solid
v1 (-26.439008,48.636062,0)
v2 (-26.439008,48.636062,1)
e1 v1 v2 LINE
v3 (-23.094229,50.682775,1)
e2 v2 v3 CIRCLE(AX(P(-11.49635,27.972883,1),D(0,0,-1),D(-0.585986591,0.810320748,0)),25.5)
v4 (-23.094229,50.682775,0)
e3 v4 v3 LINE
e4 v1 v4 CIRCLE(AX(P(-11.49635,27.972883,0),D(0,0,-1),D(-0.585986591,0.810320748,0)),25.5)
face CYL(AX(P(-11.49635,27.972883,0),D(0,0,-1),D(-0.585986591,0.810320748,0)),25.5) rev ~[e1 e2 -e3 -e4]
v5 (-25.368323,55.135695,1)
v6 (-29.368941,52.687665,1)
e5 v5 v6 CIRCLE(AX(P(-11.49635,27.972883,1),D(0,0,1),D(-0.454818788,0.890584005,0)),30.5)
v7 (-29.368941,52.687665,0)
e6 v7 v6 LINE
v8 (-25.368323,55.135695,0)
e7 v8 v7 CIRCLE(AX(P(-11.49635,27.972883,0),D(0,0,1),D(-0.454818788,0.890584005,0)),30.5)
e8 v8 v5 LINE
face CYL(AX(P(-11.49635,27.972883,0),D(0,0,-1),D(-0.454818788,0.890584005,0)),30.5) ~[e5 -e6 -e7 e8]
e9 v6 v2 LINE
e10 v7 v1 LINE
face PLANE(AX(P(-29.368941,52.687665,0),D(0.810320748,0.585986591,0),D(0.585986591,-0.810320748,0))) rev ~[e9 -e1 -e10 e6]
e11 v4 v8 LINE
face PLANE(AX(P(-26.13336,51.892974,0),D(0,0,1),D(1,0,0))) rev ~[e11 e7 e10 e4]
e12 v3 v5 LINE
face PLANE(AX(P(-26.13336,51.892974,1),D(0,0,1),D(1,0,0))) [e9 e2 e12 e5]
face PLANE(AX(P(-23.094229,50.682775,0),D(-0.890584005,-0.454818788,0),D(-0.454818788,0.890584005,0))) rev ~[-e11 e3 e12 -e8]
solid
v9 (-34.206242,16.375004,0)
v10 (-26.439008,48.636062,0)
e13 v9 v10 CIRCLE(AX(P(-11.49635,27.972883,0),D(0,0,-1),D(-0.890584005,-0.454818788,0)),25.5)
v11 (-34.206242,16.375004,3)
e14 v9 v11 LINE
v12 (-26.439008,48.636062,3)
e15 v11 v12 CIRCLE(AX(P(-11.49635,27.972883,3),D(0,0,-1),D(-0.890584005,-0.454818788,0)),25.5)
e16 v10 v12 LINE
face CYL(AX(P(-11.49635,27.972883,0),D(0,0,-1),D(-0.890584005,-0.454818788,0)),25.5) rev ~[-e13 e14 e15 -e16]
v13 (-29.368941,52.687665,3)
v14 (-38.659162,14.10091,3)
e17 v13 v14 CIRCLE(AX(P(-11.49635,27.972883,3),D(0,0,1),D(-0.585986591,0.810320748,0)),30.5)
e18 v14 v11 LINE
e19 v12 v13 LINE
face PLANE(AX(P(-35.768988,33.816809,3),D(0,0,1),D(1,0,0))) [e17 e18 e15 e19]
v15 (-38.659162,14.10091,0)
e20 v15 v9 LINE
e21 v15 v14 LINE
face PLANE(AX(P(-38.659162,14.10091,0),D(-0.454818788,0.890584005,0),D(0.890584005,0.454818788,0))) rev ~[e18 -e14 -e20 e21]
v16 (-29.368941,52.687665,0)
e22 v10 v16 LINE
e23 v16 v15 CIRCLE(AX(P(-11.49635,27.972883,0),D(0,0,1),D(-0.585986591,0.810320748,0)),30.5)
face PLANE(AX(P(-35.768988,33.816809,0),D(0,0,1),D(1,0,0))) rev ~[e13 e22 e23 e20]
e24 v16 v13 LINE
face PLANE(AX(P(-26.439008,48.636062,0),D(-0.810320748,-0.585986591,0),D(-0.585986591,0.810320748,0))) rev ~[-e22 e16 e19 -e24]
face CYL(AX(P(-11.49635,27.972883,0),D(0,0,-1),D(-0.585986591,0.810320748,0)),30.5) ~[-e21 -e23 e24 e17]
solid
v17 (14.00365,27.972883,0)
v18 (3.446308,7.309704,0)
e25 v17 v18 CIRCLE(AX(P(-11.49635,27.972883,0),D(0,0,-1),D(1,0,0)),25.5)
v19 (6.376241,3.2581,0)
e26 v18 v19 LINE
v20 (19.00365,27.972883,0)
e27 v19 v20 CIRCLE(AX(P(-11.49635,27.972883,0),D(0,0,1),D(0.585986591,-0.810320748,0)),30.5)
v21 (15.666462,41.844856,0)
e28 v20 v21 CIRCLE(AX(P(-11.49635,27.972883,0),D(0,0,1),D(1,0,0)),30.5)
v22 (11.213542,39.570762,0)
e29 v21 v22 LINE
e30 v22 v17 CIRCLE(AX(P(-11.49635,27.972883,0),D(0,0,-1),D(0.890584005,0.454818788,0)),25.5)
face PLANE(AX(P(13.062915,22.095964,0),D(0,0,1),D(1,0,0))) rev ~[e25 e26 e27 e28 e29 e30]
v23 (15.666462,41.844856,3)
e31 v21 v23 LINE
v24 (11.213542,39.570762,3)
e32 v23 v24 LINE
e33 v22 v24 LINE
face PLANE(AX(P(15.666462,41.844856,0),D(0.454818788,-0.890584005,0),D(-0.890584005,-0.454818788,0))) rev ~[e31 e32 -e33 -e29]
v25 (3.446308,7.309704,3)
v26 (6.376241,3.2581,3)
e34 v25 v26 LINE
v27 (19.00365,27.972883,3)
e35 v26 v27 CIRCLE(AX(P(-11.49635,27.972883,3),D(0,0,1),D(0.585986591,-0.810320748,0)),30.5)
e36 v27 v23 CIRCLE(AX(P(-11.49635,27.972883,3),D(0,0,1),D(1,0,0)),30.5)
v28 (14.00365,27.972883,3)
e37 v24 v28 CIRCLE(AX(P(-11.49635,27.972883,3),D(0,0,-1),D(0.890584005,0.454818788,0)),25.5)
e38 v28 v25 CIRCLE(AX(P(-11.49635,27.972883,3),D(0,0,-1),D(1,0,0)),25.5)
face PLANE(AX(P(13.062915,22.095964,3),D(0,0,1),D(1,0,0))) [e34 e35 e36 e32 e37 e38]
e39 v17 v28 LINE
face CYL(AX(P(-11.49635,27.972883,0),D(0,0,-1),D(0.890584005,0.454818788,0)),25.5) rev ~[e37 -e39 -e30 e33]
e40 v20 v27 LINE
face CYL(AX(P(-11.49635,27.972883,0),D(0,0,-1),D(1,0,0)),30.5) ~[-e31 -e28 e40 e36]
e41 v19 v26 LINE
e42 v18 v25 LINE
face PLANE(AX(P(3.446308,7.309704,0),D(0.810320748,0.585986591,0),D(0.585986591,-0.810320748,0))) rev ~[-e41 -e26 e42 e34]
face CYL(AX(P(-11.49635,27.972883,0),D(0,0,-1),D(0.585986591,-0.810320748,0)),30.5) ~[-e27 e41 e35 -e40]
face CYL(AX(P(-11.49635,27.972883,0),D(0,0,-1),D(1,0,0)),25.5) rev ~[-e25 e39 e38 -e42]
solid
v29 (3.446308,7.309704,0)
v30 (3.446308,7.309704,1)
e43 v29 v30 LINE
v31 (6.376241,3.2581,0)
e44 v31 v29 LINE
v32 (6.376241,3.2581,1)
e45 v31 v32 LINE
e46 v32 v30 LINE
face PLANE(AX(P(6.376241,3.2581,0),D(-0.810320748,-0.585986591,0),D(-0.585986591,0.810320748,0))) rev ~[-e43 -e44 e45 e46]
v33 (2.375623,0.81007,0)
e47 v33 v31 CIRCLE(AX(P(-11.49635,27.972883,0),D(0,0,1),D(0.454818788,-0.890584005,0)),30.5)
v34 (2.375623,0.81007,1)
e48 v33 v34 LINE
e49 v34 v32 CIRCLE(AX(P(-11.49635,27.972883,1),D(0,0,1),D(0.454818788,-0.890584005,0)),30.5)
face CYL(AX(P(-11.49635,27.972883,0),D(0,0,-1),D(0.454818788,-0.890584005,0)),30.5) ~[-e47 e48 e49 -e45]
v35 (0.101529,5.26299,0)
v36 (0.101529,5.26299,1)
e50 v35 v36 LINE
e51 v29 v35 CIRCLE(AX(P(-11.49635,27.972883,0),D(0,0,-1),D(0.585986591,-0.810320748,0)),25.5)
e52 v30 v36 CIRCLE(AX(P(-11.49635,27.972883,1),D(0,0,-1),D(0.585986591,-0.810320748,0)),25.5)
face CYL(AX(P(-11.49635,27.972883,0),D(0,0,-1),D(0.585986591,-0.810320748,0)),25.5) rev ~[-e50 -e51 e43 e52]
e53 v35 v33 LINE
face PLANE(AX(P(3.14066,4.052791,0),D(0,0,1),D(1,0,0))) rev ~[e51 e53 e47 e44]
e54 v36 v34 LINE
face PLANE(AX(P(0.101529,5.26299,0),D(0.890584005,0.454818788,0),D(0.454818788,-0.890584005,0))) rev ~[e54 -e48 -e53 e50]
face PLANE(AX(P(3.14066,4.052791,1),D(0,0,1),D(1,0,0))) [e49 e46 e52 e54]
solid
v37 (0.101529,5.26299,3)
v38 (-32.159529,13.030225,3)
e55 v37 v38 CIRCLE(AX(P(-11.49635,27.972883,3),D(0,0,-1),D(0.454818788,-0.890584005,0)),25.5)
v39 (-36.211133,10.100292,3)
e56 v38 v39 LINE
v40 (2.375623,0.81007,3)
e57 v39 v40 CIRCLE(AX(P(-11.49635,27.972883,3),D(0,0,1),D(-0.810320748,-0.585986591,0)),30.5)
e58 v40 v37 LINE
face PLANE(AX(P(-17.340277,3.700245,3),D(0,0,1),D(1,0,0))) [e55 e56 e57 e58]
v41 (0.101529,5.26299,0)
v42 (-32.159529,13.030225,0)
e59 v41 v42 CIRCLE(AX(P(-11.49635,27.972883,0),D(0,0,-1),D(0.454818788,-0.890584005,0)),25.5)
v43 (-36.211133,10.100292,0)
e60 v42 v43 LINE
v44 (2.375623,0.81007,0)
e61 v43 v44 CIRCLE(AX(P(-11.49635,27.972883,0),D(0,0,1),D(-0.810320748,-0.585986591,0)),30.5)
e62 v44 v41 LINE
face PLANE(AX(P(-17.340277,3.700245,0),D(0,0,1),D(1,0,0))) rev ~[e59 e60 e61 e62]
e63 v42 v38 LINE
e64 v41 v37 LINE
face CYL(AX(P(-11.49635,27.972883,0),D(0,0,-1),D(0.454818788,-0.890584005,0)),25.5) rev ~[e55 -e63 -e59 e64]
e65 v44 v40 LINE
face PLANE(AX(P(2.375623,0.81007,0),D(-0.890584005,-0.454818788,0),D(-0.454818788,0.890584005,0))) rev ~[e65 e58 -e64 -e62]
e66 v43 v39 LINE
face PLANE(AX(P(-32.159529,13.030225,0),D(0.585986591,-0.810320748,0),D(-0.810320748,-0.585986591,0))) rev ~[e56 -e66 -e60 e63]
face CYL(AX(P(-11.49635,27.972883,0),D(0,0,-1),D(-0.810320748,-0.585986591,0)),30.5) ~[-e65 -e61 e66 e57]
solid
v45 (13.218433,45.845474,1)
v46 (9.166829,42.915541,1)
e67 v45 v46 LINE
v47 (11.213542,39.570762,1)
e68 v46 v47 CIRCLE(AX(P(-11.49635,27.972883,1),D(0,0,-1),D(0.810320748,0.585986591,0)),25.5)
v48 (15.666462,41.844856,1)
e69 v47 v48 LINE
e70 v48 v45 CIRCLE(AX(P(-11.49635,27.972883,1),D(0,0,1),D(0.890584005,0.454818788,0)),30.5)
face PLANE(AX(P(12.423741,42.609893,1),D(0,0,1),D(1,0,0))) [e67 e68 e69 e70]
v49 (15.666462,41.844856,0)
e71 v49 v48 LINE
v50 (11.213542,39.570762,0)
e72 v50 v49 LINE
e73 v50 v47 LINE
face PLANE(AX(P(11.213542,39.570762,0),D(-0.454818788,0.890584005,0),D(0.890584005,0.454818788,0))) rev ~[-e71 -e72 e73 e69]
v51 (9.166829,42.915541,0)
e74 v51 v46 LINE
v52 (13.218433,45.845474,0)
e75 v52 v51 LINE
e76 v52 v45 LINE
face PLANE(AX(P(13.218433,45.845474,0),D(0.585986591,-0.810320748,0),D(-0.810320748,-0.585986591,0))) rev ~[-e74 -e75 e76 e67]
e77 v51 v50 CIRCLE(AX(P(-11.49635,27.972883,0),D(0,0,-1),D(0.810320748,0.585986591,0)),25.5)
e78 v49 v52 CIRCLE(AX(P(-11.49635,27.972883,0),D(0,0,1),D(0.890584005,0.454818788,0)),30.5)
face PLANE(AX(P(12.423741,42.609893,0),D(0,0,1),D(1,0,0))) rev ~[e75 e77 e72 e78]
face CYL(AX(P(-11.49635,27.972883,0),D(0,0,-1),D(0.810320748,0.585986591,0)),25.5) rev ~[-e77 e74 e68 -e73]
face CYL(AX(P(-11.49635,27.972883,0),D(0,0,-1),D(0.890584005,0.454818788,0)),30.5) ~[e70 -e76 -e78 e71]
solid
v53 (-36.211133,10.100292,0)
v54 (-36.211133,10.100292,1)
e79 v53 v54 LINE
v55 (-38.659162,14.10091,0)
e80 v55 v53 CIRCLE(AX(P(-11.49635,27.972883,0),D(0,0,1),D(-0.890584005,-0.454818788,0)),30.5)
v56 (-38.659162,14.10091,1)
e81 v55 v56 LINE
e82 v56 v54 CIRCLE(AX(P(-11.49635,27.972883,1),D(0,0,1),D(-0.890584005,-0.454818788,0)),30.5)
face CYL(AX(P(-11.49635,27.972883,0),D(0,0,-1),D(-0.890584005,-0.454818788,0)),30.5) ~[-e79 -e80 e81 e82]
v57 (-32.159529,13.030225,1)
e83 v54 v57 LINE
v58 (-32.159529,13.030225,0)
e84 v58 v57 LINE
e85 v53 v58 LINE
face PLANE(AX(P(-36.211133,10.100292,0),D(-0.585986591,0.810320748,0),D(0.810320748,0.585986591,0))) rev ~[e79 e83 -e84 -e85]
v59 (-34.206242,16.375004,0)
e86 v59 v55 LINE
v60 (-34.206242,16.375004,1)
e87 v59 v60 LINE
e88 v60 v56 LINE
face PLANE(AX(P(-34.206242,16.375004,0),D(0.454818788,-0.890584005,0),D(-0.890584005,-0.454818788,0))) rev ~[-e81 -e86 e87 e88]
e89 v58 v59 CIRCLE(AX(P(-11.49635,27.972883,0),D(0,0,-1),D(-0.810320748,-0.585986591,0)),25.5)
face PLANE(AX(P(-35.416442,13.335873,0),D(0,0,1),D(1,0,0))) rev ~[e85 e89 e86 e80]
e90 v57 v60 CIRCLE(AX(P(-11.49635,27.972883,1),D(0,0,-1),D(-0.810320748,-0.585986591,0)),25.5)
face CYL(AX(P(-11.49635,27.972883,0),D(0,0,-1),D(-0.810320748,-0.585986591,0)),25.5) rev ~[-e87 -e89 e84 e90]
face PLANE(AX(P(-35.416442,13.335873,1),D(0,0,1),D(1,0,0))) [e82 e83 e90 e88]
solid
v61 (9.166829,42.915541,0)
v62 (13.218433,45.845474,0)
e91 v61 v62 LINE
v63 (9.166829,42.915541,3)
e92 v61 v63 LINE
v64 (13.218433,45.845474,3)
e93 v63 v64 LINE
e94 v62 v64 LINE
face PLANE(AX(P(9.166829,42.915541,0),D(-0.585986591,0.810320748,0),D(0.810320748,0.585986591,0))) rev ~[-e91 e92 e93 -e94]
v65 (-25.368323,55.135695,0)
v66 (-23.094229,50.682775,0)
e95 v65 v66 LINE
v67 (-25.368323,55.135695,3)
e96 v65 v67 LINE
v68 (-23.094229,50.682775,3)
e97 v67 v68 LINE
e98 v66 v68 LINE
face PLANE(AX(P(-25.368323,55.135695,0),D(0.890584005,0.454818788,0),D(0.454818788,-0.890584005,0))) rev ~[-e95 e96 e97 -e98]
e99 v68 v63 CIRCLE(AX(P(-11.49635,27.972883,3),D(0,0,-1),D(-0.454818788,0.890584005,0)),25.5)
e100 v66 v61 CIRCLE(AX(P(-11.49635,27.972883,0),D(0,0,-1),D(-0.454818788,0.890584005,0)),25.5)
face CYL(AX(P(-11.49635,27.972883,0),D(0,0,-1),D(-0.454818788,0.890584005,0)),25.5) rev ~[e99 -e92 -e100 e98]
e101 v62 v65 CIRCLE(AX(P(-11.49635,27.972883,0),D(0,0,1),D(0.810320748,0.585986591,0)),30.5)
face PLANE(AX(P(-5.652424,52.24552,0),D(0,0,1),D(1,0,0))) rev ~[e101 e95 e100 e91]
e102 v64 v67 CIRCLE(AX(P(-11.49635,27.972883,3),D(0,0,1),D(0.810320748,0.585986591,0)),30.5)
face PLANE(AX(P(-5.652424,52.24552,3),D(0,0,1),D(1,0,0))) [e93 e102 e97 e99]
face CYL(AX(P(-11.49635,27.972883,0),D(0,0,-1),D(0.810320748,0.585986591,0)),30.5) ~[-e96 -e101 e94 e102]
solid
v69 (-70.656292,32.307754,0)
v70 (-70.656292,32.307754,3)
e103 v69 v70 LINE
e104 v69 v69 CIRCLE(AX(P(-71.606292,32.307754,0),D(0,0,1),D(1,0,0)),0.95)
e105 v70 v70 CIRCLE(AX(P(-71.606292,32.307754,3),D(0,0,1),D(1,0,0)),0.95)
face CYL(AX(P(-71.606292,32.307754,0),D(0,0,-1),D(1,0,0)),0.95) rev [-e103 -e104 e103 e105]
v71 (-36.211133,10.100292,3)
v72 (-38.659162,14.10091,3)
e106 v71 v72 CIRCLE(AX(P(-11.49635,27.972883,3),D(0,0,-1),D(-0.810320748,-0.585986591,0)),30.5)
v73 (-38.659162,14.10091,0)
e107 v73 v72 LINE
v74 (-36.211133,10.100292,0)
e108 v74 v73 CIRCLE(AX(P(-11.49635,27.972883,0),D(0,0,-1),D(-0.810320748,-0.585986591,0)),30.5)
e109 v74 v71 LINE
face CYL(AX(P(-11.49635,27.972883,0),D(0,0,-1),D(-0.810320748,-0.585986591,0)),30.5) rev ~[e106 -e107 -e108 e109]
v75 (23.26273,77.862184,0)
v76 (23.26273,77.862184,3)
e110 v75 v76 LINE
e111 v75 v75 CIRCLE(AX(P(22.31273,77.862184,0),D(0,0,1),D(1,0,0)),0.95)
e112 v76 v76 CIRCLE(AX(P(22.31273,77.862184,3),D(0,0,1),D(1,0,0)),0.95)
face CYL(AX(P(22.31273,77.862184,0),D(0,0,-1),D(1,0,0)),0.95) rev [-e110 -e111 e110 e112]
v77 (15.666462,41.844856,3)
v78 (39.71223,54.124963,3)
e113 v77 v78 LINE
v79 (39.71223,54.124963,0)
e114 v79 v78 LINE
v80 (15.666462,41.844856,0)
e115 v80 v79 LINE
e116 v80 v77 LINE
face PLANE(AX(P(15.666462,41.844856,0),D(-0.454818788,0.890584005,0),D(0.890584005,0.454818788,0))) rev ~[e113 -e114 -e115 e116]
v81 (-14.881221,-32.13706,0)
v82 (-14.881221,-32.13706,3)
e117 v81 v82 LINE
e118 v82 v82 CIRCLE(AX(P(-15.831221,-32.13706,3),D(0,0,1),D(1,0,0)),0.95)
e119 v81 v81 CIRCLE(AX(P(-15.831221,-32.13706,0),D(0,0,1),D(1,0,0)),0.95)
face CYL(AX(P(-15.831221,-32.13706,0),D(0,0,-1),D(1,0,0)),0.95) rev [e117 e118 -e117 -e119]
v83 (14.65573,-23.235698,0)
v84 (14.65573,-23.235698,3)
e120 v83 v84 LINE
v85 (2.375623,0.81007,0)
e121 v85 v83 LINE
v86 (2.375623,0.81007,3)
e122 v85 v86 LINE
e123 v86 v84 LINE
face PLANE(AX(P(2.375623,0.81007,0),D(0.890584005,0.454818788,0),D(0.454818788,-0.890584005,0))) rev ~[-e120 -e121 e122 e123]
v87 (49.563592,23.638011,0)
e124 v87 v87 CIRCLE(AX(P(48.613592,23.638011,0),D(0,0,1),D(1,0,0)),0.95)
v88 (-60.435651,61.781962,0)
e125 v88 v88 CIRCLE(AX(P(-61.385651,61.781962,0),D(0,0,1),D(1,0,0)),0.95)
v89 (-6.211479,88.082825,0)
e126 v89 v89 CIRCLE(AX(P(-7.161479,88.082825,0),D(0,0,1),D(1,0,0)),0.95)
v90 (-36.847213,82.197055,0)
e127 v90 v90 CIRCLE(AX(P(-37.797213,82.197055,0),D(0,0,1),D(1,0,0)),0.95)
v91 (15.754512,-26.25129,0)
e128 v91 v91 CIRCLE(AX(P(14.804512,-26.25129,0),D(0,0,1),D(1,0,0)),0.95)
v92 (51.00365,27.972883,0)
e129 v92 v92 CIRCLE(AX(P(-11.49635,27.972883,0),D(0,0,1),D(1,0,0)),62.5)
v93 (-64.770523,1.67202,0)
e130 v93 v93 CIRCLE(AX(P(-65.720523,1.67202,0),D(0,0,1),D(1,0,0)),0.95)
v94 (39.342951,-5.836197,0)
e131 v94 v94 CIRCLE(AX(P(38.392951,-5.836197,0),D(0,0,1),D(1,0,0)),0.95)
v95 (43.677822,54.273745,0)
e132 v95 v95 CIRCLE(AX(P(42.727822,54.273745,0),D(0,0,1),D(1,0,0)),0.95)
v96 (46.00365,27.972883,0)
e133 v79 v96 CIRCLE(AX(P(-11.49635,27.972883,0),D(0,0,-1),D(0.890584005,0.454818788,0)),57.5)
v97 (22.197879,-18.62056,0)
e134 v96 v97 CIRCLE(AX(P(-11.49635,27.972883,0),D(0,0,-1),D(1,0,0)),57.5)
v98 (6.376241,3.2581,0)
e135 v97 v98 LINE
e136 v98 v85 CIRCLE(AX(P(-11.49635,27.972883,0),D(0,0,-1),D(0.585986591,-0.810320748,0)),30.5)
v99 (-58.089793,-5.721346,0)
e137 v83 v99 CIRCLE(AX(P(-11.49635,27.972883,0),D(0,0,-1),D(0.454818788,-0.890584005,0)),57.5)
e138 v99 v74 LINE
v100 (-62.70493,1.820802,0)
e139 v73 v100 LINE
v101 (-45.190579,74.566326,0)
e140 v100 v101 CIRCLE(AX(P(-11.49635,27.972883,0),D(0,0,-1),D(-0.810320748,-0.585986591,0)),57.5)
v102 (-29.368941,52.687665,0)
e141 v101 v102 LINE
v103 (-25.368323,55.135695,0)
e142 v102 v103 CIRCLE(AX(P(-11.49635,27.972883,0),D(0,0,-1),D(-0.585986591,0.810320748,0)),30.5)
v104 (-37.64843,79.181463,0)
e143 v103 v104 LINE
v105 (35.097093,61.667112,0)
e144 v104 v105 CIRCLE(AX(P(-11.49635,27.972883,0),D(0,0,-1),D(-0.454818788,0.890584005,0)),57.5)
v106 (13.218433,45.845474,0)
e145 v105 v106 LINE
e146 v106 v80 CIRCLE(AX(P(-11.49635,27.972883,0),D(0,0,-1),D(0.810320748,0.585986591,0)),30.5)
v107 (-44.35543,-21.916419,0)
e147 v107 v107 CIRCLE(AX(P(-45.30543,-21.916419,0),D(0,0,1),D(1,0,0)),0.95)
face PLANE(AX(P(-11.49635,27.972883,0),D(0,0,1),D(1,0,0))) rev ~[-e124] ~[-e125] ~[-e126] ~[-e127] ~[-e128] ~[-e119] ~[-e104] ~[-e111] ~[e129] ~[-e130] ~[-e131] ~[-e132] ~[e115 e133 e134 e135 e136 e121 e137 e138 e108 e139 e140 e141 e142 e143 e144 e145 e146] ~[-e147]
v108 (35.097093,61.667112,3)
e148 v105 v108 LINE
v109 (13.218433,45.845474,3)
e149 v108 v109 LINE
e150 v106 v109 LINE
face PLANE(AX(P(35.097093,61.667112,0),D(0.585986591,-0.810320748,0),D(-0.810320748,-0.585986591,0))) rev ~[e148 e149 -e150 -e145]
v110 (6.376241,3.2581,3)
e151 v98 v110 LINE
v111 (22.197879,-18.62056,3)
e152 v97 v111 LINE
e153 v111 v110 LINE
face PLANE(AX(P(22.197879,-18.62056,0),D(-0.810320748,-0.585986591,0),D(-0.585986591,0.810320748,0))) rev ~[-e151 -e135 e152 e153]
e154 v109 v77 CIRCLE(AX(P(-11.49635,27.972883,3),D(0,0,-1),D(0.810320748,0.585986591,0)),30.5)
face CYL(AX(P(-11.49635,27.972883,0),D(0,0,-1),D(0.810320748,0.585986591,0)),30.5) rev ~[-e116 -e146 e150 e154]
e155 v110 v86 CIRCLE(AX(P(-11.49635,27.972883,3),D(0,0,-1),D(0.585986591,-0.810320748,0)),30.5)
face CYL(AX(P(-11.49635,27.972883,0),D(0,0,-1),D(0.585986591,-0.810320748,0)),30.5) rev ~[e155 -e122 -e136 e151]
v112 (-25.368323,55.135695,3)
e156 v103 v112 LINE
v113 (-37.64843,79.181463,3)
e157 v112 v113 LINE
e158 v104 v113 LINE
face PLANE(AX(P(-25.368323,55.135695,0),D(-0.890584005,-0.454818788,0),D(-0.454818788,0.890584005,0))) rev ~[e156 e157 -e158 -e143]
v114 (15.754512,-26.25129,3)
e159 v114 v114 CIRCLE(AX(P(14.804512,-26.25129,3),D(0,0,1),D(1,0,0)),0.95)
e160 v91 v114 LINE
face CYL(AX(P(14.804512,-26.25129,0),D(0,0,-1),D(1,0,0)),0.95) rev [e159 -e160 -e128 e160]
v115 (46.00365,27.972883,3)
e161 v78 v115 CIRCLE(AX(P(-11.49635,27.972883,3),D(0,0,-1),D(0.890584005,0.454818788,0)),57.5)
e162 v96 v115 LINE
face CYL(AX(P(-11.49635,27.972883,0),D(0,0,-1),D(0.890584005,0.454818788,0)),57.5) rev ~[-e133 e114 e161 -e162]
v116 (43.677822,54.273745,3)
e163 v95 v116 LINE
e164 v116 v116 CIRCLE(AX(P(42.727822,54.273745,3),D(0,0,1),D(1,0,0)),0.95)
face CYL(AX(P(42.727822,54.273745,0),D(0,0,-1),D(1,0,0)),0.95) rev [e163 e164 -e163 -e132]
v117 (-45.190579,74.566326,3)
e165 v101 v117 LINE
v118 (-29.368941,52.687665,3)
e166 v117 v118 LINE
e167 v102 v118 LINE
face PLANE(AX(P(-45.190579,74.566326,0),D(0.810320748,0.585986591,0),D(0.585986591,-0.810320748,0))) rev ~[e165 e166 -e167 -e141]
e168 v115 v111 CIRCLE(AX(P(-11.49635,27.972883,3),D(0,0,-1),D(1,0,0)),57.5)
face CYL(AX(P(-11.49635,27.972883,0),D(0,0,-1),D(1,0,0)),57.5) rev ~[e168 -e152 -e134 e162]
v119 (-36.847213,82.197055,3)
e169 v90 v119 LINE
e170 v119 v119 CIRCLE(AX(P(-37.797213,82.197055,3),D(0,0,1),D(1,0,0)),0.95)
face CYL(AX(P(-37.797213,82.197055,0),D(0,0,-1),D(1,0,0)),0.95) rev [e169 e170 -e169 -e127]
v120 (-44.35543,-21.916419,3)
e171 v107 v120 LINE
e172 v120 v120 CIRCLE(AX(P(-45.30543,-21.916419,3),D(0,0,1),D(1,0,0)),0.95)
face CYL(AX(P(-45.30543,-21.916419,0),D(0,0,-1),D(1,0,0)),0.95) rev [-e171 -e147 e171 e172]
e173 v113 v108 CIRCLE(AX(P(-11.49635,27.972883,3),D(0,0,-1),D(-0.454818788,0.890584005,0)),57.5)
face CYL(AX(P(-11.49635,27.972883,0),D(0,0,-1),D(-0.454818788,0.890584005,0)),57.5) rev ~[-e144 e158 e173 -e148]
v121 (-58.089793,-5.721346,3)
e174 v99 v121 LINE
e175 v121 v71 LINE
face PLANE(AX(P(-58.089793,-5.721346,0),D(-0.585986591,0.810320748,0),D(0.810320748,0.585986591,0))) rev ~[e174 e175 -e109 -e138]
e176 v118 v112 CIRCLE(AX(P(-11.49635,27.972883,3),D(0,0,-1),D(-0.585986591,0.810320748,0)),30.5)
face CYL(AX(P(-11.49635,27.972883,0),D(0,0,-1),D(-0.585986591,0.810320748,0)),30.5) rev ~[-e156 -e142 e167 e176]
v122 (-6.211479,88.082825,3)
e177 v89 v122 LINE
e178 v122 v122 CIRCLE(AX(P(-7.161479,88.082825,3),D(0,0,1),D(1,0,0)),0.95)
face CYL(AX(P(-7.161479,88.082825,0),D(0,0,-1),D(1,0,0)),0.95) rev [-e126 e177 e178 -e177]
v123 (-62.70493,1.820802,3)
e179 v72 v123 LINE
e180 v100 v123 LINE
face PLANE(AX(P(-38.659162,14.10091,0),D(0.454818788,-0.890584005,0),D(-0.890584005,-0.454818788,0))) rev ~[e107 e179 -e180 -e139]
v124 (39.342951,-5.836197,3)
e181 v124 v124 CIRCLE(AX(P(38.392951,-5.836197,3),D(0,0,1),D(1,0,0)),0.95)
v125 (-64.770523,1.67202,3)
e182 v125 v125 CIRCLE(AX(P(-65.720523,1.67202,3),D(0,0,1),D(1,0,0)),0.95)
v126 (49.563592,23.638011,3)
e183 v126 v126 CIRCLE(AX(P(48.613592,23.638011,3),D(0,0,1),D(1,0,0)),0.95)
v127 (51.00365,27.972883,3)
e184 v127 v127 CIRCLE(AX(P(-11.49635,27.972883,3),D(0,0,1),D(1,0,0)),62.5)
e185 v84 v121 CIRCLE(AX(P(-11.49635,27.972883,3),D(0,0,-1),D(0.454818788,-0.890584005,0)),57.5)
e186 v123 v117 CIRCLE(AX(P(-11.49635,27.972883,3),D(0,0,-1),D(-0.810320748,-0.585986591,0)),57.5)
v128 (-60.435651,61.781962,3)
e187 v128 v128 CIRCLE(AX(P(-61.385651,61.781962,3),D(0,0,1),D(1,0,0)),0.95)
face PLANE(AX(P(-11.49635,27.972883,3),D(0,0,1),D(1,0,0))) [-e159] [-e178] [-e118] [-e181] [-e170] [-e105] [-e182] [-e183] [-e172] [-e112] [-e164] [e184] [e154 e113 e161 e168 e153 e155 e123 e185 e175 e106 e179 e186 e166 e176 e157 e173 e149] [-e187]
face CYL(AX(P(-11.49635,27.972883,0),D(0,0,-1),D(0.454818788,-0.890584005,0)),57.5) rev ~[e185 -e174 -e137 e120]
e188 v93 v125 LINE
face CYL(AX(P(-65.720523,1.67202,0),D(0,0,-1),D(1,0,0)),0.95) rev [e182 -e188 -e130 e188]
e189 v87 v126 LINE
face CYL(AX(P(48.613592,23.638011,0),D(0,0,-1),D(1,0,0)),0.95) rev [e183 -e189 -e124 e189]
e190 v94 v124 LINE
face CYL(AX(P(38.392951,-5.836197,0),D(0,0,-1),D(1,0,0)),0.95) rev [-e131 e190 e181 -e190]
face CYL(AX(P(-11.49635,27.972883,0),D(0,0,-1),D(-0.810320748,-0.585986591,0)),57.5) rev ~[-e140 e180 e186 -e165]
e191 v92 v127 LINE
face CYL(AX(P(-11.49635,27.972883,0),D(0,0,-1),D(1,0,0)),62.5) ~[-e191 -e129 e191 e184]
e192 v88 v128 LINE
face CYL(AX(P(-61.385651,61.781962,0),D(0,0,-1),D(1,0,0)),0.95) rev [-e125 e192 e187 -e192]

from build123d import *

# Parameters (mm, degrees)
F0_R     = 62.5
F0_R_2   = 0.95
F1_DEPTH = 3
F2_DEPTH = 1


with BuildPart() as f1:
    # F0 (on Top) → F1 (new body)
    with BuildSketch(Plane.XY):
        with Locations((-11.4963501692, 27.9728826135)):
            Circle(F0_R)
        with Locations((-45.3054299303, -21.9164186971)):
            Circle(F0_R_2, mode=Mode.SUBTRACT)
        with Locations((-15.8312214656, -32.1370595791)):
            Circle(F0_R_2, mode=Mode.SUBTRACT)
        with Locations((-65.7205227762, 1.672020182)):
            Circle(F0_R_2, mode=Mode.SUBTRACT)
        with Locations((14.8045122623, -26.2512899935)):
            Circle(F0_R_2, mode=Mode.SUBTRACT)
        with Locations((38.3929511415, -5.8361971476)):
            Circle(F0_R_2, mode=Mode.SUBTRACT)
        with Locations((48.6135920235, 23.6380113171)):
            Circle(F0_R_2, mode=Mode.SUBTRACT)
        with Locations((-71.6062923619, 32.3077539099)):
            Circle(F0_R_2, mode=Mode.SUBTRACT)
        with Locations((-61.3856514799, 61.7819623747)):
            Circle(F0_R_2, mode=Mode.SUBTRACT)
        with Locations((-37.7972126007, 82.1970552206)):
            Circle(F0_R_2, mode=Mode.SUBTRACT)
        with BuildLine():
            ThreePointArc((35.0970928529, 61.6671116053), (37.5498519583, 57.9848811619), (39.7122301293, 54.1249629097))
            ThreePointArc((39.7122301293, 54.1249629097), (44.4086736085, 41.4219835656), (46.0036498308, 27.9728826135))
            ThreePointArc((46.0036498308, 27.9728826135), (39.707498158, 1.8115386785), (22.1978788226, -18.6205604085))
            ThreePointArc((22.1978788226, -18.6205604085), (18.5156483792, -21.073319514), (14.655730127, -23.2356976849))
            ThreePointArc((14.655730127, -23.2356976849), (-24.9555645945, -27.9297071928), (-58.0897931912, -5.7213463782))
            ThreePointArc((-58.0897931912, -5.7213463782), (-60.5425522967, -2.0391159348), (-62.7049304676, 1.8208023173))
            ThreePointArc((-62.7049304676, 1.8208023173), (-67.3989399755, 41.4320970388), (-45.190579161, 74.5663256356))
            ThreePointArc((-45.190579161, 74.5663256356), (-41.5083487176, 77.019084741), (-37.6484304654, 79.181462912))
            ThreePointArc((-37.6484304654, 79.181462912), (1.9628642561, 83.8754724199), (35.0970928529, 61.6671116053))
        make_face(mode=Mode.SUBTRACT)
        with Locations((42.7278224379, 54.2737450451)):
            Circle(F0_R_2, mode=Mode.SUBTRACT)
        with Locations((-7.1614788728, 88.0828248062)):
            Circle(F0_R_2, mode=Mode.SUBTRACT)
        with Locations((22.312729592, 77.8621839242)):
            Circle(F0_R_2, mode=Mode.SUBTRACT)
        with BuildLine():
            ThreePointArc((13.2184326512, 45.845473644), (14.5194613941, 43.8922905392), (15.6664619891, 41.8448556402))
            Line((15.6664619891, 41.8448556402), (39.7122301293, 54.1249629097))
            ThreePointArc((39.7122301293, 54.1249629097), (37.5498519583, 57.9848811619), (35.0970928529, 61.6671116053))
            Line((35.0970928529, 61.6671116053), (13.2184326512, 45.845473644))
        make_face()
        with BuildLine():
            ThreePointArc((-29.3689411996, 52.6876654339), (-27.4157580948, 53.9886941768), (-25.3683231959, 55.1356947718))
            Line((-25.3683231959, 55.1356947718), (-37.6484304654, 79.181462912))
            ThreePointArc((-37.6484304654, 79.181462912), (-41.5083487176, 77.019084741), (-45.190579161, 74.5663256356))
            Line((-45.190579161, 74.5663256356), (-29.3689411996, 52.6876654339))
        make_face()
        with BuildLine():
            Line((22.1978788226, -18.6205604085), (6.3762408612, 3.2580997931))
            ThreePointArc((6.3762408612, 3.2580997931), (4.4230577565, 1.9570710503), (2.3756228575, 0.8100704552))
            Line((2.3756228575, 0.8100704552), (14.655730127, -23.2356976849))
            ThreePointArc((14.655730127, -23.2356976849), (18.5156483792, -21.073319514), (22.1978788226, -18.6205604085))
        make_face()
        with BuildLine():
            Line((-58.0897931912, -5.7213463782), (-36.2111329896, 10.1002915831))
            ThreePointArc((-36.2111329896, 10.1002915831), (-37.5121617325, 12.0534746879), (-38.6591623275, 14.1009095869))
            Line((-38.6591623275, 14.1009095869), (-62.7049304676, 1.8208023173))
            ThreePointArc((-62.7049304676, 1.8208023173), (-60.5425522967, -2.0391159348), (-58.0897931912, -5.7213463782))
        make_face()
    extrude(amount=F1_DEPTH)


with BuildPart() as f1b:
    # F0 (on Top) → F1, piece 2 (new body)
    with BuildSketch(Plane.XY):
        with BuildLine():
            ThreePointArc((-23.0942292571, 50.6827747459), (-5.5274811632, 52.764465919), (9.1668289102, 42.9155406882))
            Line((9.1668289102, 42.9155406882), (13.2184326512, 45.845473644))
            ThreePointArc((13.2184326512, 45.845473644), (-4.3571146914, 57.6255606847), (-25.3683231959, 55.1356947718))
            Line((-25.3683231959, 55.1356947718), (-23.0942292571, 50.6827747459))
        make_face()
    extrude(amount=F1_DEPTH)


with BuildPart() as f1c:
    # F0 (on Top) → F1, piece 3 (new body)
    with BuildSketch(Plane.XY):
        with BuildLine():
            ThreePointArc((-34.2062423015, 16.3750035257), (-36.2879334746, 33.9417516195), (-26.4390082438, 48.6360616929))
            Line((-26.4390082438, 48.6360616929), (-29.3689411996, 52.6876654339))
            ThreePointArc((-29.3689411996, 52.6876654339), (-41.1490282404, 35.1121180913), (-38.6591623275, 14.1009095869))
            Line((-38.6591623275, 14.1009095869), (-34.2062423015, 16.3750035257))
        make_face()
    extrude(amount=F1_DEPTH)


with BuildPart() as f1d:
    # F0 (on Top) → F1, piece 4 (new body)
    with BuildSketch(Plane.XY):
        with BuildLine():
            Line((2.3756228575, 0.8100704552), (0.1015289187, 5.2629904812))
            ThreePointArc((0.1015289187, 5.2629904812), (-17.4652191752, 3.1812993081), (-32.1595292485, 13.0302245389))
            Line((-32.1595292485, 13.0302245389), (-36.2111329896, 10.1002915831))
            ThreePointArc((-36.2111329896, 10.1002915831), (-18.6355856469, -1.6797954576), (2.3756228575, 0.8100704552))
        make_face()
    extrude(amount=F1_DEPTH)


with BuildPart() as f1e:
    # F0 (on Top) → F1, piece 5 (new body)
    with BuildSketch(Plane.XY):
        with BuildLine():
            ThreePointArc((11.2135419632, 39.5707617014), (13.2963125496, 33.937266514), (14.0036498308, 27.9728826135))
            ThreePointArc((14.0036498308, 27.9728826135), (11.2114434368, 16.3708953032), (3.4463079054, 7.3097035342))
            Line((3.4463079054, 7.3097035342), (6.3762408612, 3.2580997931))
            ThreePointArc((6.3762408612, 3.2580997931), (15.663951987, 14.0959958306), (19.0036498308, 27.9728826135))
            ThreePointArc((19.0036498308, 27.9728826135), (18.1576189651, 35.1067535534), (15.6664619891, 41.8448556402))
            Line((15.6664619891, 41.8448556402), (11.2135419632, 39.5707617014))
        make_face()
    extrude(amount=F1_DEPTH)


with BuildPart() as f2:
    # F0 (on Top) → F2 (new body)
    with BuildSketch(Plane.XY):
        with BuildLine():
            ThreePointArc((-26.4390082438, 48.6360616929), (-24.8060190906, 49.7238070353), (-23.0942292571, 50.6827747459))
            Line((-23.0942292571, 50.6827747459), (-25.3683231959, 55.1356947718))
            ThreePointArc((-25.3683231959, 55.1356947718), (-27.4157580948, 53.9886941768), (-29.3689411996, 52.6876654339))
            Line((-29.3689411996, 52.6876654339), (-26.4390082438, 48.6360616929))
        make_face()
    extrude(amount=F2_DEPTH)


with BuildPart() as f2b:
    # F0 (on Top) → F2, piece 2 (new body)
    with BuildSketch(Plane.XY):
        with BuildLine():
            Line((-36.2111329896, 10.1002915831), (-32.1595292485, 13.0302245389))
            ThreePointArc((-32.1595292485, 13.0302245389), (-33.2472745909, 14.6632136921), (-34.2062423015, 16.3750035257))
            Line((-34.2062423015, 16.3750035257), (-38.6591623275, 14.1009095869))
            ThreePointArc((-38.6591623275, 14.1009095869), (-37.5121617325, 12.0534746879), (-36.2111329896, 10.1002915831))
        make_face()
    extrude(amount=F2_DEPTH)


with BuildPart() as f2c:
    # F0 (on Top) → F2, piece 3 (new body)
    with BuildSketch(Plane.XY):
        with BuildLine():
            Line((6.3762408612, 3.2580997931), (3.4463079054, 7.3097035342))
            ThreePointArc((3.4463079054, 7.3097035342), (1.8133187523, 6.2219581918), (0.1015289187, 5.2629904812))
            Line((0.1015289187, 5.2629904812), (2.3756228575, 0.8100704552))
            ThreePointArc((2.3756228575, 0.8100704552), (4.4230577565, 1.9570710503), (6.3762408612, 3.2580997931))
        make_face()
    extrude(amount=F2_DEPTH)


with BuildPart() as f2d:
    # F0 (on Top) → F2, piece 4 (new body)
    with BuildSketch(Plane.XY):
        with BuildLine():
            ThreePointArc((9.1668289102, 42.9155406882), (10.2545742526, 41.282551535), (11.2135419632, 39.5707617014))
            Line((11.2135419632, 39.5707617014), (15.6664619891, 41.8448556402))
            ThreePointArc((15.6664619891, 41.8448556402), (14.5194613941, 43.8922905392), (13.2184326512, 45.845473644))
            Line((13.2184326512, 45.845473644), (9.1668289102, 42.9155406882))
        make_face()
    extrude(amount=F2_DEPTH)


solid = Compound([f1.part, f1b.part, f1c.part, f1d.part, f1e.part, f2.part, f2b.part, f2c.part, f2d.part])
